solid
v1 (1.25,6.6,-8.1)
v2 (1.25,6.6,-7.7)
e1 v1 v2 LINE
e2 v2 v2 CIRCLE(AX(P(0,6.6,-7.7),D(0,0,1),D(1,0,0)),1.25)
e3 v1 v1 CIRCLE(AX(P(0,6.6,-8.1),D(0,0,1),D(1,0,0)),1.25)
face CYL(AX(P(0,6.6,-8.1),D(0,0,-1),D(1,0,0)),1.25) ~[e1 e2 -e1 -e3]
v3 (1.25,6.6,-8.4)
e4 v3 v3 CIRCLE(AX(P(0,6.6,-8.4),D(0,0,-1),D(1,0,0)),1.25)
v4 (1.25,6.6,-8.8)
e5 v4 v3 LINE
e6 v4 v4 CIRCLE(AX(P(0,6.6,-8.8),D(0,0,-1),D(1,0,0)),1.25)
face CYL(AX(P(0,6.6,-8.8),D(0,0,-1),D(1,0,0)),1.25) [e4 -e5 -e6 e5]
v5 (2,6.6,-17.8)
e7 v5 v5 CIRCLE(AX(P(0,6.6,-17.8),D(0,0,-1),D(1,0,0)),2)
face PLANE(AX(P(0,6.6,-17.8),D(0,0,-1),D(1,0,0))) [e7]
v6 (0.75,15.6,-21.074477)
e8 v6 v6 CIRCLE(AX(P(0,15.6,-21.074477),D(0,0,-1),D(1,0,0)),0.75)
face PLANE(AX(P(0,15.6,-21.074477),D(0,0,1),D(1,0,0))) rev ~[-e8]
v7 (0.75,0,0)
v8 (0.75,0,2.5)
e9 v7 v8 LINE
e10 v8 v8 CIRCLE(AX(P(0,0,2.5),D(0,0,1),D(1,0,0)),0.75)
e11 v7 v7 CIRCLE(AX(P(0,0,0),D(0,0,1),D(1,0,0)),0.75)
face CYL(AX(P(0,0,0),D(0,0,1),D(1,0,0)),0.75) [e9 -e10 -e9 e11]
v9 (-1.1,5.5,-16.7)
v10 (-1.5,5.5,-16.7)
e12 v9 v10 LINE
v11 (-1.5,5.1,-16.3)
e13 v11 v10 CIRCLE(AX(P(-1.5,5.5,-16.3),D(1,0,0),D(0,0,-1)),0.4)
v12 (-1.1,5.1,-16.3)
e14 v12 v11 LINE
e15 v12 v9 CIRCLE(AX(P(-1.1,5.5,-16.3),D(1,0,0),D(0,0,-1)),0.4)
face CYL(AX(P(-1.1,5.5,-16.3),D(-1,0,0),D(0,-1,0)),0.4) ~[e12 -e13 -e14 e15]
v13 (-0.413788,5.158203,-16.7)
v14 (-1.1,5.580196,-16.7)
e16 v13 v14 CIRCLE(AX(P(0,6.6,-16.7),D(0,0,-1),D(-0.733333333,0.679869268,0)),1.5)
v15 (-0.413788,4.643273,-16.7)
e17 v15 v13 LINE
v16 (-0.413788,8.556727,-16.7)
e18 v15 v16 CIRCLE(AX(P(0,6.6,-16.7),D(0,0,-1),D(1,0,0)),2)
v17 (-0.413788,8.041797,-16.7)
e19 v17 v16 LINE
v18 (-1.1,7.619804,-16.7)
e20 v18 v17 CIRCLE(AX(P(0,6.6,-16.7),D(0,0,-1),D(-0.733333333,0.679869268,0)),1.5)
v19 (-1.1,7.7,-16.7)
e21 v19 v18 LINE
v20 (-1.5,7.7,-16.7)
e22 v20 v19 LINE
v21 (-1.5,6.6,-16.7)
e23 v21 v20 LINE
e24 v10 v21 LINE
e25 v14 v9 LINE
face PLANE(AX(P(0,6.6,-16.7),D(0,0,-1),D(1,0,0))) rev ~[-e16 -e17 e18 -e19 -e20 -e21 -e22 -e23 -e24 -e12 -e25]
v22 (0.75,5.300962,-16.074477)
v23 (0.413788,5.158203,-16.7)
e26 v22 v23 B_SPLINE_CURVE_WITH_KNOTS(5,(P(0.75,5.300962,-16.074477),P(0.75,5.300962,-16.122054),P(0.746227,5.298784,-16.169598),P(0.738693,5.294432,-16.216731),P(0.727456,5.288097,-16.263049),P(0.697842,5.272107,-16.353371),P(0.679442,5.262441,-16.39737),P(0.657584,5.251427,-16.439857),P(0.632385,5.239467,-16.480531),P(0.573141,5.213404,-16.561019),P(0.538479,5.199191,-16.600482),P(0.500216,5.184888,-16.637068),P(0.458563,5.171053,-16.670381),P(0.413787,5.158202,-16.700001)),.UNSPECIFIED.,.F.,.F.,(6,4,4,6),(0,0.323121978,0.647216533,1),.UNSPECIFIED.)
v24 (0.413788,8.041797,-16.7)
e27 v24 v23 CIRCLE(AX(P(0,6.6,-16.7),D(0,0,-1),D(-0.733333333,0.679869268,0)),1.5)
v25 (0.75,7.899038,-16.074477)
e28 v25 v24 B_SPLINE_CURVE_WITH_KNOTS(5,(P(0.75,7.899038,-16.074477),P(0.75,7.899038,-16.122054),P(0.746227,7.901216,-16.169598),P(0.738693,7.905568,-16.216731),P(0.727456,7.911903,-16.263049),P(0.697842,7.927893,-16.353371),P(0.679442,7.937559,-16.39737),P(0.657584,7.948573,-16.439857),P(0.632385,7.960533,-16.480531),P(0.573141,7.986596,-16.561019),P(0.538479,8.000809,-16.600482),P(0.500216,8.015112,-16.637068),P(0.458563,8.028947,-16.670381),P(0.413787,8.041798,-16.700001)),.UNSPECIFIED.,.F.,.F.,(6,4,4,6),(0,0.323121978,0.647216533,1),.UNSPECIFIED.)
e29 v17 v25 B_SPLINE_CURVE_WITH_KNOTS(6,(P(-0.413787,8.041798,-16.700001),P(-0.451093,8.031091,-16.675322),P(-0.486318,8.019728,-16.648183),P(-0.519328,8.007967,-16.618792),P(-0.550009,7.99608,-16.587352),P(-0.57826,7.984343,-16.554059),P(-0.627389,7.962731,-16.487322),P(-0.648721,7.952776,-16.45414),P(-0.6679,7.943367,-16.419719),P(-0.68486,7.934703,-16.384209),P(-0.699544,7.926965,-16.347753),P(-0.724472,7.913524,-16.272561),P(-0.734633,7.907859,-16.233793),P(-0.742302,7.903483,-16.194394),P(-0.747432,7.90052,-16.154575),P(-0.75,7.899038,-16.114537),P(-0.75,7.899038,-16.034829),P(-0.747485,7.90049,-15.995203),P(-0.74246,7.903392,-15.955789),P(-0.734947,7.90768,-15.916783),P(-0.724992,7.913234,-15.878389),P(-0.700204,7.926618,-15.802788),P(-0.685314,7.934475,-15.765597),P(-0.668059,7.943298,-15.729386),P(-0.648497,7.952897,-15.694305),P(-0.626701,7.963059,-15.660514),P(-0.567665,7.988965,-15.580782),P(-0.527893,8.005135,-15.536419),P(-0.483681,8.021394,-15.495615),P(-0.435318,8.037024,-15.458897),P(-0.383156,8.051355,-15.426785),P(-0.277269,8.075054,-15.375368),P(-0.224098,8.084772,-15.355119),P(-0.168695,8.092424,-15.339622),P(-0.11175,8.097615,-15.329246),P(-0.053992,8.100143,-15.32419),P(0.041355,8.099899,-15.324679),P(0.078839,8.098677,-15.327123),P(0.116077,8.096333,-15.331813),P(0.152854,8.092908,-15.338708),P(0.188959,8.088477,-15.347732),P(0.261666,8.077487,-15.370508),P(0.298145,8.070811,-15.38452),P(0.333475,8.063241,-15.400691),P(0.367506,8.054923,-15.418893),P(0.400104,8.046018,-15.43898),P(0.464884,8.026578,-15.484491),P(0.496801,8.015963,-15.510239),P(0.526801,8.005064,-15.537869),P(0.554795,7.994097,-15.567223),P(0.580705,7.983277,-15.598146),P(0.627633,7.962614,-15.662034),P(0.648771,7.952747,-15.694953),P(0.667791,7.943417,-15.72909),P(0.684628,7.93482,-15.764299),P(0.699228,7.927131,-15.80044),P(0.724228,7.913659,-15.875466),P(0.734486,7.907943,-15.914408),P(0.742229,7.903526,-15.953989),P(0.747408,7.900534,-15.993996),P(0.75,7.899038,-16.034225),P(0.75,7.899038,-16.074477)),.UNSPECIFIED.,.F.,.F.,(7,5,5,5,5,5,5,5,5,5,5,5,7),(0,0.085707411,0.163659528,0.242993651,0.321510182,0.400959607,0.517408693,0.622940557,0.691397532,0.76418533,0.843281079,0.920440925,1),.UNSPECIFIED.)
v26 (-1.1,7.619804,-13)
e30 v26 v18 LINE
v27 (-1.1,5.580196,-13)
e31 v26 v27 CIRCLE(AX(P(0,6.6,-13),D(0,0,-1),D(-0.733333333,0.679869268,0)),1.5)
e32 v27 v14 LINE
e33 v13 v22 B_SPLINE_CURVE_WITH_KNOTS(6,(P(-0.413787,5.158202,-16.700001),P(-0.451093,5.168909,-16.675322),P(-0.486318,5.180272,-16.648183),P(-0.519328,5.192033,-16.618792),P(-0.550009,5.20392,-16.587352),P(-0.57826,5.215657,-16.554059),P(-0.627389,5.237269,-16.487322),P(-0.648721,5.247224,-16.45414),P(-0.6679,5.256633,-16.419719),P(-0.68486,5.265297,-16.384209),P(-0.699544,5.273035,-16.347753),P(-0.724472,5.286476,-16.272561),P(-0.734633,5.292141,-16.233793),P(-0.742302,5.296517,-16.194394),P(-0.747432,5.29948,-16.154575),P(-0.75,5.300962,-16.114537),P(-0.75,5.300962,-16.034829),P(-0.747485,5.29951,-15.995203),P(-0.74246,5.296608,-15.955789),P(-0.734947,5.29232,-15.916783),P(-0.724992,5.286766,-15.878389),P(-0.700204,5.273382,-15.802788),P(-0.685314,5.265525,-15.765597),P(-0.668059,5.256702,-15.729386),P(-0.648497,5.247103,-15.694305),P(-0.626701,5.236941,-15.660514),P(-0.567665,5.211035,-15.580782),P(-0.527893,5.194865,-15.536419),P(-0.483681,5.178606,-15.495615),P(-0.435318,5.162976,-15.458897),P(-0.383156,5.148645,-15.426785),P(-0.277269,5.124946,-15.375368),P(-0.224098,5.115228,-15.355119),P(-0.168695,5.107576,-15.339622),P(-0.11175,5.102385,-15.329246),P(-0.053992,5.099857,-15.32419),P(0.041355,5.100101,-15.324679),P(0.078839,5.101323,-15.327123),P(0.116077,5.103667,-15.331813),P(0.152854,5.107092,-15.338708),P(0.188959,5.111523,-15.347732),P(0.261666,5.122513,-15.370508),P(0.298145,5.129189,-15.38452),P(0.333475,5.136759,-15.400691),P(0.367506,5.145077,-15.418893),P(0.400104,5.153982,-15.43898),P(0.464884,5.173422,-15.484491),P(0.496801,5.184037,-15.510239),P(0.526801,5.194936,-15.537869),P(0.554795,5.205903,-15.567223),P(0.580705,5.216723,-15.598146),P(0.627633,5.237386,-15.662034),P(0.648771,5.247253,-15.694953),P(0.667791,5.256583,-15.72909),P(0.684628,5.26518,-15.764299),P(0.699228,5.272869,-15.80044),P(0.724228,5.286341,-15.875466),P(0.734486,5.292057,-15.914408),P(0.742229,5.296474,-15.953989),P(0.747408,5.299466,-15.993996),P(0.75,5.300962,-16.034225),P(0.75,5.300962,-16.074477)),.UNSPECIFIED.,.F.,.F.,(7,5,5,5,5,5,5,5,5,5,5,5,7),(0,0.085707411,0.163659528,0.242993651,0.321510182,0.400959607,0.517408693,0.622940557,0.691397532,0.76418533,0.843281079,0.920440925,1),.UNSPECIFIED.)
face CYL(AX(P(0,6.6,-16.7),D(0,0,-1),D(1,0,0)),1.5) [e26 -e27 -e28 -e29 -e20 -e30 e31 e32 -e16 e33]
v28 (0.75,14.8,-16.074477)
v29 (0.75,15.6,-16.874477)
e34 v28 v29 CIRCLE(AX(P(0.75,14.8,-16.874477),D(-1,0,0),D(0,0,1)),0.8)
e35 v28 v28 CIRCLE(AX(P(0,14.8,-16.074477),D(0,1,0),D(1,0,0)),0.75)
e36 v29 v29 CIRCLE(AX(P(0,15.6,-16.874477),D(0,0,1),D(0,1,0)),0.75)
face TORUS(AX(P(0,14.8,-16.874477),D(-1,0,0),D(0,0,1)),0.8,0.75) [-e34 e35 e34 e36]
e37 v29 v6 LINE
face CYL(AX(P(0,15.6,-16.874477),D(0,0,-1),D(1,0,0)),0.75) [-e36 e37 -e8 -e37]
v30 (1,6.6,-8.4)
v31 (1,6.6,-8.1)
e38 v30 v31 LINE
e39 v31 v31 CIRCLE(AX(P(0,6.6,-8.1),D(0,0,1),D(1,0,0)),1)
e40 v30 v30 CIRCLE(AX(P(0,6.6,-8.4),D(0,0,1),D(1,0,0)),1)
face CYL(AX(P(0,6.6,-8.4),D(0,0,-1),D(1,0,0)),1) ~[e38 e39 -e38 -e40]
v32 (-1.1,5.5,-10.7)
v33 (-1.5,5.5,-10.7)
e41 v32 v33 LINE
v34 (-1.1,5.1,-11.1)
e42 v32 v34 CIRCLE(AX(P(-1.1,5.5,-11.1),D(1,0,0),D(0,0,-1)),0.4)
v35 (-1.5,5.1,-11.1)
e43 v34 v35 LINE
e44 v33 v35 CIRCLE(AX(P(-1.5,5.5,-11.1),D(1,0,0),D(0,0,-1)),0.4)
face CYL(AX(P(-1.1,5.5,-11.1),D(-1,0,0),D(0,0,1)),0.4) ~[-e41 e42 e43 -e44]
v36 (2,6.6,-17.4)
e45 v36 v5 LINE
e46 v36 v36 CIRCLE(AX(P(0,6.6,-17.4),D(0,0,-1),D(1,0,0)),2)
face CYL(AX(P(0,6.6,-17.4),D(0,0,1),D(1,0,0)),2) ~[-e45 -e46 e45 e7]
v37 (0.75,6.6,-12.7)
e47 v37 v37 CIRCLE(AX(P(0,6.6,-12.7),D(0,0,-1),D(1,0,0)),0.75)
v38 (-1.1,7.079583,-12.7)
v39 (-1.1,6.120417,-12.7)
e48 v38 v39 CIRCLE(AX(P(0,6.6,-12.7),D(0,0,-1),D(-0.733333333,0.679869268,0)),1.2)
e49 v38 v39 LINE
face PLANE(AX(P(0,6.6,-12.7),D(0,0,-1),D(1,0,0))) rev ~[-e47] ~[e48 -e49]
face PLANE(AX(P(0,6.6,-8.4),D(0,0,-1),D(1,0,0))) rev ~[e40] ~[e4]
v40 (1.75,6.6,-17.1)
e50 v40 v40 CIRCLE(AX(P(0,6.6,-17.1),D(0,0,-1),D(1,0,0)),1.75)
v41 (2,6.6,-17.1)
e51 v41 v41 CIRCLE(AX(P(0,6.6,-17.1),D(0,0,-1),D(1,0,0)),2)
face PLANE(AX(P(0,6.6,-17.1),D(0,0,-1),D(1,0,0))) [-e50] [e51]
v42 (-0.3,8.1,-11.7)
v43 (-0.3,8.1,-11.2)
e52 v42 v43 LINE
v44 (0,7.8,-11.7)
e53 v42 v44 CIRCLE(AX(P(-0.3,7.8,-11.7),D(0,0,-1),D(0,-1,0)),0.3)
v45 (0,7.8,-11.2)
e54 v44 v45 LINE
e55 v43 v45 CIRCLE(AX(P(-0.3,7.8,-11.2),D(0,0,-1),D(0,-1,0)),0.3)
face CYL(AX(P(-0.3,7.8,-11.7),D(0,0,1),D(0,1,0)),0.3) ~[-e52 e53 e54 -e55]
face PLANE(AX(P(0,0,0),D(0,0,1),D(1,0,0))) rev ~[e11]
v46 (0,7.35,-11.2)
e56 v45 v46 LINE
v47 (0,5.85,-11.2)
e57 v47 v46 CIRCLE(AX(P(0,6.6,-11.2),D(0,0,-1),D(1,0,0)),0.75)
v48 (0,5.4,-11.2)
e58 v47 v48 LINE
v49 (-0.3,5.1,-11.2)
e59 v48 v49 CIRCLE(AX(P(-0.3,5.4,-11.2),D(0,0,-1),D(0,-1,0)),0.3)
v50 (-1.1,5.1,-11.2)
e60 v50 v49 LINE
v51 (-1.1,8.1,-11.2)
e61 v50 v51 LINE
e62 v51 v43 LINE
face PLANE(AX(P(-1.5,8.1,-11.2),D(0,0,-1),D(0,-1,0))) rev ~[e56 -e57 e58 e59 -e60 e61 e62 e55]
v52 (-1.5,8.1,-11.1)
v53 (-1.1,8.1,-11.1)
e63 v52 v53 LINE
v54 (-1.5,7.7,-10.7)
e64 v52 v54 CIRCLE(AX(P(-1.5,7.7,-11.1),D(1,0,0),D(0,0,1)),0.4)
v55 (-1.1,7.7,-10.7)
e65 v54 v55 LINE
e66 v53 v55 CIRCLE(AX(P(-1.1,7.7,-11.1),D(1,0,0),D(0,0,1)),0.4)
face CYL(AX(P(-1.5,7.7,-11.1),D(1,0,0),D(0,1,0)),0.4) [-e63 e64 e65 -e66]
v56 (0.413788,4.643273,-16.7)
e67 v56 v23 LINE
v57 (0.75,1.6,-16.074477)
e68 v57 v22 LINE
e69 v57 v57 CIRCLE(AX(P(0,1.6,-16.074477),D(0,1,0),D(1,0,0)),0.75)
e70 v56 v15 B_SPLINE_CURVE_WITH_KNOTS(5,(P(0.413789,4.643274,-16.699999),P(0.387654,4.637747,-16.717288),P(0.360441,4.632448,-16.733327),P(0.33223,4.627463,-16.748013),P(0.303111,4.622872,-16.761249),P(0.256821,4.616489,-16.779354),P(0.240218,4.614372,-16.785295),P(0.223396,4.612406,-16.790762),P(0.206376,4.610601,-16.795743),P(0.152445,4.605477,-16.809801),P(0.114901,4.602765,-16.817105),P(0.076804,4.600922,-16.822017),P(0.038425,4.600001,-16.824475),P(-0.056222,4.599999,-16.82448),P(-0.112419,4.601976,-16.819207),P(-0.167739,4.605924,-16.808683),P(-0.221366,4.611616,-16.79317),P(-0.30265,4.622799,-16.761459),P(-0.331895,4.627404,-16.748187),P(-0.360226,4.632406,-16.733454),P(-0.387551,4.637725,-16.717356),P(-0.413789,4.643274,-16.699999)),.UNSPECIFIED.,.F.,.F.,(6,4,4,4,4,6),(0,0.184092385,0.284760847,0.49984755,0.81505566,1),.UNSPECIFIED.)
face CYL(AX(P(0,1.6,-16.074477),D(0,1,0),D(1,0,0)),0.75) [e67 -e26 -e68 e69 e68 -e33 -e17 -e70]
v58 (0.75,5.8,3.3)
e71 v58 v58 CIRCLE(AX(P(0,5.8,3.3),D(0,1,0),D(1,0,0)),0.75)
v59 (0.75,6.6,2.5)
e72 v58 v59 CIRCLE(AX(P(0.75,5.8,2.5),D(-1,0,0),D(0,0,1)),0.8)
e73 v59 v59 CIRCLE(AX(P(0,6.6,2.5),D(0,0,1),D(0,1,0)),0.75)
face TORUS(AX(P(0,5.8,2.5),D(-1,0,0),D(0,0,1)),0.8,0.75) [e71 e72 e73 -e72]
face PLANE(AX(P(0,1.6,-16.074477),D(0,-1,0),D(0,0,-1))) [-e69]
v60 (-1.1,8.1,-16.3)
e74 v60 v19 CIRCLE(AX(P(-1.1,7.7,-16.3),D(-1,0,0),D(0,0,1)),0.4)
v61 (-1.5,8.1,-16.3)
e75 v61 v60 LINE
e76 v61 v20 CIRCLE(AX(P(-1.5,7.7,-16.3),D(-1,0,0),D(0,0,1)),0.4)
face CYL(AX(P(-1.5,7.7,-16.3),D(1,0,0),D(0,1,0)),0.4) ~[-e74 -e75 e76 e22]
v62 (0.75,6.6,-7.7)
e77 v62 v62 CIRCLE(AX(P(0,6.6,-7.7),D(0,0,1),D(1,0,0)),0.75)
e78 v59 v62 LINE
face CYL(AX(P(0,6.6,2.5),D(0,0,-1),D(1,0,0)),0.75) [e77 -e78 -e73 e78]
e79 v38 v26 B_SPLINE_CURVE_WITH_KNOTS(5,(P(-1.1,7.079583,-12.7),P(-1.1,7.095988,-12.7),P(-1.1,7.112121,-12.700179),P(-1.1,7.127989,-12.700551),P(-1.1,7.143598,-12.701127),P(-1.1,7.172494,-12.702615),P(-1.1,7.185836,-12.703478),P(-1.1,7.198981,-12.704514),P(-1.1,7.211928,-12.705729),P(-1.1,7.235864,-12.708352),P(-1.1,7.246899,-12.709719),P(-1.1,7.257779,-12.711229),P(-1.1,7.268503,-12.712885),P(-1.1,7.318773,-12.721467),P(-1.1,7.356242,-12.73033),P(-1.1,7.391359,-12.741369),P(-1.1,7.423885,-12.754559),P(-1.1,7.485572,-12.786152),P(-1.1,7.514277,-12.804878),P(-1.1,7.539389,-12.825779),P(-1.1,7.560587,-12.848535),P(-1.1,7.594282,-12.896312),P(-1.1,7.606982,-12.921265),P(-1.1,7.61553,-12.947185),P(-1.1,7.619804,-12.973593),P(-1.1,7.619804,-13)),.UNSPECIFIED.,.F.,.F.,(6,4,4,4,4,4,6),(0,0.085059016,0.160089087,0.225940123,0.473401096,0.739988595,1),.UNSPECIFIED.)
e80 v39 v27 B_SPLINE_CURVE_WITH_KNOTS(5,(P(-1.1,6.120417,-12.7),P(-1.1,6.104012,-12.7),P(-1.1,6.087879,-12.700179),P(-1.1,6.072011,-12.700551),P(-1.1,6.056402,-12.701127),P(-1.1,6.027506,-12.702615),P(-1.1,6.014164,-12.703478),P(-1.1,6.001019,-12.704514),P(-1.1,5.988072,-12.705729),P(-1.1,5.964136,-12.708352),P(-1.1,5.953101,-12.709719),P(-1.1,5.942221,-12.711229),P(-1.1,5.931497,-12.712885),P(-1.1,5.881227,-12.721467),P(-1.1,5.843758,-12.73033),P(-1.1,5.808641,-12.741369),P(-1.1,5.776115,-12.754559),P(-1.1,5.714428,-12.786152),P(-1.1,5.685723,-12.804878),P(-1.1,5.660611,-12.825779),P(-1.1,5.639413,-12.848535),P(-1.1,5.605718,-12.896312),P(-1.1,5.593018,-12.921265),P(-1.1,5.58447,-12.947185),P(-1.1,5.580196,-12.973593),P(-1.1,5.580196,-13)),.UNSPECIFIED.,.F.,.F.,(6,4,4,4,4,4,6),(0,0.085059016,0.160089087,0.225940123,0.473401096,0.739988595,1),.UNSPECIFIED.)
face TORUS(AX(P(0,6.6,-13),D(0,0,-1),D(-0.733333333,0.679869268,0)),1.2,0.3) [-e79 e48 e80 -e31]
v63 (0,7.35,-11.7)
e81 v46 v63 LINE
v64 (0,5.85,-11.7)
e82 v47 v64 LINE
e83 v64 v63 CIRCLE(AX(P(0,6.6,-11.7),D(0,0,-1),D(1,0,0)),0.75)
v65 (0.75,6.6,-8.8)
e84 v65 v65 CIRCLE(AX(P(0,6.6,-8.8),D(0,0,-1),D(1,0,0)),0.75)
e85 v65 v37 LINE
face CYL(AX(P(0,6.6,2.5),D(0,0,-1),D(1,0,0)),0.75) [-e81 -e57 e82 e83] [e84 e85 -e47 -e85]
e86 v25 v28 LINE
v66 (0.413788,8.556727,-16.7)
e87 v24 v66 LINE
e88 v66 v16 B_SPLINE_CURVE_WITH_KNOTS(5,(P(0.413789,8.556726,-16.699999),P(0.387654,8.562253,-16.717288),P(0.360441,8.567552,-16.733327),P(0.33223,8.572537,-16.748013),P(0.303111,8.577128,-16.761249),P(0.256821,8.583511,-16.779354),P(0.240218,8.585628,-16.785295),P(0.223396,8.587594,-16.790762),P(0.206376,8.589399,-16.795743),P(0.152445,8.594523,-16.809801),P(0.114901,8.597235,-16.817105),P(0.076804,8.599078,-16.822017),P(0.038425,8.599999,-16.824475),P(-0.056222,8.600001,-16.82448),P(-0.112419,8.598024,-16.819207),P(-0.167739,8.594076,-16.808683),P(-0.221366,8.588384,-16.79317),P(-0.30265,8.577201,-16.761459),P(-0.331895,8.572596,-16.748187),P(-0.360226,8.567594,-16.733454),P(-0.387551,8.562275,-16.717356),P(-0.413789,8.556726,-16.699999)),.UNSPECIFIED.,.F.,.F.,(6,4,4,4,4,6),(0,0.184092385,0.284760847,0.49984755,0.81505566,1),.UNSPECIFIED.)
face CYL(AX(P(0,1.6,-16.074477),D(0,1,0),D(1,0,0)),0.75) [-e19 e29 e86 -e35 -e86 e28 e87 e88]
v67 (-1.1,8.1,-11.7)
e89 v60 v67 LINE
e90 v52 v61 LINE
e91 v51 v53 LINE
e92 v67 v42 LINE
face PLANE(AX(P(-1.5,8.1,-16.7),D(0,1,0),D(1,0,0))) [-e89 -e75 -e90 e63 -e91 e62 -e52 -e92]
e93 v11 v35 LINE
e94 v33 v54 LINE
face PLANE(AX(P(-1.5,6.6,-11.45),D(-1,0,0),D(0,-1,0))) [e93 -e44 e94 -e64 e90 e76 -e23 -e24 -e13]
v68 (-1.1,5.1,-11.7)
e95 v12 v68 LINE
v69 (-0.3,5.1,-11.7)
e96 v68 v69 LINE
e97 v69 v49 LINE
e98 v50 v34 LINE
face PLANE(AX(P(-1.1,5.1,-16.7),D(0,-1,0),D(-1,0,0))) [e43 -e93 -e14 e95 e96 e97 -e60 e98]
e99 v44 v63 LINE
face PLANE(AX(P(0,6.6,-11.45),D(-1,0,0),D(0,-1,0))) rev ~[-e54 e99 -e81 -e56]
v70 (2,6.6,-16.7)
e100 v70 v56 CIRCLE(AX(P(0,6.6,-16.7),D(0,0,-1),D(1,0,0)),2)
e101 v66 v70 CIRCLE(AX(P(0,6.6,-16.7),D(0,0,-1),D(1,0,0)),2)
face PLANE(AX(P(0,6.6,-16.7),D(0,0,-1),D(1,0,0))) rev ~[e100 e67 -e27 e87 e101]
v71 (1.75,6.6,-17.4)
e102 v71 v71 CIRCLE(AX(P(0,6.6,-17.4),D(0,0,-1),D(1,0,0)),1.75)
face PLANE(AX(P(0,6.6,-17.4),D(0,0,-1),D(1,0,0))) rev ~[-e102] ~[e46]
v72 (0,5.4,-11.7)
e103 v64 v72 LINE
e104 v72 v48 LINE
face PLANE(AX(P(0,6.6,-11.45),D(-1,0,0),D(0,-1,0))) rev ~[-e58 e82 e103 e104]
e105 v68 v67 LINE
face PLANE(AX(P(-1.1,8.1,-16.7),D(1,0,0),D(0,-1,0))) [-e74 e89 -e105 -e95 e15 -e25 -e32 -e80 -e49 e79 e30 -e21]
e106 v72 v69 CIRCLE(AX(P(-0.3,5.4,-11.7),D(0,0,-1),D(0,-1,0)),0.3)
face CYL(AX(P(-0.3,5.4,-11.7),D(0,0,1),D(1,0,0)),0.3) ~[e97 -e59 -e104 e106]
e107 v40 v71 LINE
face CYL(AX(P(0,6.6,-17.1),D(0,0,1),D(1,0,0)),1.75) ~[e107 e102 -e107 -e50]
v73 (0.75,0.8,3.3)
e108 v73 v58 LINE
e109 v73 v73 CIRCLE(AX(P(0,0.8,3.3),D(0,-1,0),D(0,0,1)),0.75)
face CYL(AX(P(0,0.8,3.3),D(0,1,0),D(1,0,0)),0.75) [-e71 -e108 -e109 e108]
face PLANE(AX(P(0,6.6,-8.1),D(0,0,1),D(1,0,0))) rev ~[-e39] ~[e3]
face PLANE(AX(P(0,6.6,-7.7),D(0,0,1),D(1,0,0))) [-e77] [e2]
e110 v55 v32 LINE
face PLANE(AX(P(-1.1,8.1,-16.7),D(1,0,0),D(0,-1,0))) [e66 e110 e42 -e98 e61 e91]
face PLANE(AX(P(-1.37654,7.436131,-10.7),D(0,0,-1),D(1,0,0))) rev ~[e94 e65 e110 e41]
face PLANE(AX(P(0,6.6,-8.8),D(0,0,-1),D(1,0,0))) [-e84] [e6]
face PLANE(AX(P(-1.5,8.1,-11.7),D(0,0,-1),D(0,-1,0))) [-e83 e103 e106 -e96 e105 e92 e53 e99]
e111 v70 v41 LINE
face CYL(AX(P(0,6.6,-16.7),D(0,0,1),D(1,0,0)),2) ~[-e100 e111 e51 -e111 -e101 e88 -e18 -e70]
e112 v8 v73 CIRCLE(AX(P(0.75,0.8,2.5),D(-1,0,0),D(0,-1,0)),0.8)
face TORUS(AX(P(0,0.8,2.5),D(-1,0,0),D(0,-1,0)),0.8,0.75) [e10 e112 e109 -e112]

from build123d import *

# Parameters (mm, degrees)
F1_R      = 0.75
F3_R      = 1.5
F3_R_2    = 0.75
F4_DEPTH  = 4
F6_DEPTH  = 6
F7_R      = 0.4
F8_R      = 2
F9_DEPTH  = 0.4
F10_R     = 1.75
F11_DEPTH = 0.3
F12_R     = 2
F12_R_2   = 1.75
F13_DEPTH = 0.4
F14_W     = 3
F14_H     = 0.5
F15_DEPTH = 1.5
F16_R     = 0.3
F18_R     = 1.25
F18_R_2   = 0.75
F19_DEPTH = 0.4
F20_R     = 1
F20_R_2   = 0.75
F21_DEPTH = 0.3
F22_R     = 1.25
F22_R_2   = 1
F22_R_3   = 0.75
F23_DEPTH = 0.4
F24_R     = 0.3
F27_R     = 0.75


with BuildPart() as f2:
    # F2: sweep along a path in F0
    with BuildLine(Plane.YZ) as f2_path:
        Line((0, 0), (0, 2.5))
        ThreePointArc((0, 2.5), (0.2343145751, 3.0656854249), (0.8, 3.3))
        Line((0.8, 3.3), (5.8, 3.3))
        ThreePointArc((5.8, 3.3), (6.3656854249, 3.0656854249), (6.6, 2.5))
        Line((6.6, 2.5), (6.6, -16.7))
    # F1 (on Top) → F2 (sweep)
    with BuildSketch(Plane.XY):
        Circle(F1_R)
    sweep(path=f2_path.line)

    # F3 (on face) → F4 (join)
    with BuildSketch(Plane(origin=(0, 0, -16.7), x_dir=(1, 0, 0), z_dir=(0, 0, -1))):
        with Locations((0, -6.6)):
            Circle(F3_R)
        with Locations((0, -6.6)):
            Circle(F3_R_2, mode=Mode.SUBTRACT)
    extrude(amount=-F4_DEPTH)

    # F5 (on face) → F6 (join)
    with BuildSketch(Plane(origin=(0, 0, -16.7), x_dir=(1, 0, 0), z_dir=(0, 0, -1))):
        with BuildLine():
            ThreePointArc((-1.1, -7.6198039027), (-1.3964240044, -7.1477225575), (-1.5, -6.6))
            Line((-1.5, -6.6), (-1.5, -8.1))
            Line((-1.5, -8.1), (-1.1, -8.1))
            Line((-1.1, -8.1), (-1.1, -7.6198039027))
        make_face()
        with BuildLine():
            Line((-1.5, -5.1), (-1.5, -6.6))
            ThreePointArc((-1.5, -6.6), (-1.3964240044, -6.0522774425), (-1.1, -5.5801960973))
            Line((-1.1, -5.5801960973), (-1.1, -5.1))
            Line((-1.1, -5.1), (-1.5, -5.1))
        make_face()
        with BuildLine():
            ThreePointArc((-1.1, -5.5801960973), (-1.3964240044, -6.0522774425), (-1.5, -6.6))
            ThreePointArc((-1.5, -6.6), (-1.3964240044, -7.1477225575), (-1.1, -7.6198039027))
            Line((-1.1, -7.6198039027), (-1.1, -5.5801960973))
        make_face()
    extrude(amount=-F6_DEPTH)

    # F7
    f7_edges = [f2.edges().sort_by_distance(p)[0] for p in [
        (-1.3, 8.1, -10.7),
        (-1.3, 5.1, -10.7),
        (-1.3, 8.1, -16.7),
        (-1.3, 5.1, -16.7),
    ]]
    fillet(f7_edges, radius=F7_R)

    # F8 (on face) → F9 (join)
    with BuildSketch(Plane(origin=(0, 0, -16.7), x_dir=(1, 0, 0), z_dir=(0, 0, -1))):
        with Locations((0, -6.6)):
            Circle(F8_R)
        with BuildLine():
            Line((-1.1, -5.5), (-1.1, -5.5801960973))
            ThreePointArc((-1.1, -5.5801960973), (1.5, -6.6), (-1.1, -7.6198039027))
            Line((-1.1, -7.6198039027), (-1.1, -7.7))
            Line((-1.1, -7.7), (-1.5, -7.7))
            Line((-1.5, -7.7), (-1.5, -6.6))
            Line((-1.5, -6.6), (-1.5, -5.5))
            Line((-1.5, -5.5), (-1.1, -5.5))
        make_face(mode=Mode.SUBTRACT)
        with BuildLine():
            ThreePointArc((-1.1, -7.6198039027), (1.5, -6.6), (-1.1, -5.5801960973))
            Line((-1.1, -5.5801960973), (-1.1, -5.5))
            Line((-1.1, -5.5), (-1.5, -5.5))
            Line((-1.5, -5.5), (-1.5, -6.6))
            Line((-1.5, -6.6), (-1.5, -7.7))
            Line((-1.5, -7.7), (-1.1, -7.7))
            Line((-1.1, -7.7), (-1.1, -7.6198039027))
        make_face()
    extrude(amount=F9_DEPTH)

    # F10 (on face) → F11 (join)
    with BuildSketch(Plane(origin=(0, 0, -17.1), x_dir=(1, 0, 0), z_dir=(0, 0, -1))):
        with Locations((0, -6.6)):
            Circle(F10_R)
    extrude(amount=F11_DEPTH)

    # F12 (on face) → F13 (join)
    with BuildSketch(Plane(origin=(0, 0, -17.4), x_dir=(1, 0, 0), z_dir=(0, 0, -1))):
        with Locations((0, -6.6)):
            Circle(F12_R)
        with Locations((0, -6.6)):
            Circle(F12_R_2, mode=Mode.SUBTRACT)
        with Locations((0, -6.6)):
            Circle(F12_R_2)
    extrude(amount=F13_DEPTH)

    # F14 (on face) → F15 (join, through all)
    with BuildSketch(Plane(origin=(-1.5, 0, 0), x_dir=(0, -1, 0), z_dir=(-1, 0, 0))):
        with Locations((-6.6, -11.45)):
            Rectangle(F14_W, F14_H)
    extrude(amount=-F15_DEPTH)

    # F16
    f16_edges = [f2.edges().sort_by_distance(p)[0] for p in [
        (0, 8.1, -11.45),
        (0, 5.1, -11.45),
    ]]
    fillet(f16_edges, radius=F16_R)

    # F18 (on offset) → F19 (join)
    with BuildSketch(Plane(origin=(0, 0, -8.8), x_dir=(1, 0, 0), z_dir=(0, 0, -1))):
        with Locations((0, -6.6)):
            Circle(F18_R)
        with Locations((0, -6.6)):
            Circle(F18_R_2, mode=Mode.SUBTRACT)
    extrude(amount=-F19_DEPTH)

    # F20 (on face) → F21 (join)
    with BuildSketch(Plane.XY.offset(-8.4)):
        with Locations((0, 6.6)):
            Circle(F20_R)
        with Locations((0, 6.6)):
            Circle(F20_R_2, mode=Mode.SUBTRACT)
    extrude(amount=F21_DEPTH)

    # F22 (on face) → F23 (join)
    with BuildSketch(Plane.XY.offset(-8.1)):
        with Locations((0, 6.6)):
            Circle(F22_R)
        with Locations((0, 6.6)):
            Circle(F22_R_2, mode=Mode.SUBTRACT)
        with Locations((0, 6.6)):
            Circle(F22_R_2)
        with Locations((0, 6.6)):
            Circle(F22_R_3, mode=Mode.SUBTRACT)
    extrude(amount=F23_DEPTH)

    # F24
    f24_edges = [f2.edges().sort_by_distance(p)[0] for p in [
        (1.5, 6.6, -12.7),
    ]]
    fillet(f24_edges, radius=F24_R)

    # F29: sweep along a path in F28
    with BuildLine(Plane.YZ) as f29_path:
        Line((1.6, -16.0744767636), (6.6, -16.0744767636))
        Line((6.6, -16.0744767636), (14.8, -16.0744767636))
        ThreePointArc((14.8, -16.0744767636), (15.3656854249, -16.3087913387), (15.6, -16.8744767636))
        Line((15.6, -16.8744767636), (15.6, -21.0744767636))
    # F27 (on plane+point) → F29 (sweep)
    with BuildSketch(Plane.XZ.offset(-6.6)):
        with Locations((0, -16.0744767636)):
            Circle(F27_R)
    sweep(path=f29_path.line)


solid = f2.part
